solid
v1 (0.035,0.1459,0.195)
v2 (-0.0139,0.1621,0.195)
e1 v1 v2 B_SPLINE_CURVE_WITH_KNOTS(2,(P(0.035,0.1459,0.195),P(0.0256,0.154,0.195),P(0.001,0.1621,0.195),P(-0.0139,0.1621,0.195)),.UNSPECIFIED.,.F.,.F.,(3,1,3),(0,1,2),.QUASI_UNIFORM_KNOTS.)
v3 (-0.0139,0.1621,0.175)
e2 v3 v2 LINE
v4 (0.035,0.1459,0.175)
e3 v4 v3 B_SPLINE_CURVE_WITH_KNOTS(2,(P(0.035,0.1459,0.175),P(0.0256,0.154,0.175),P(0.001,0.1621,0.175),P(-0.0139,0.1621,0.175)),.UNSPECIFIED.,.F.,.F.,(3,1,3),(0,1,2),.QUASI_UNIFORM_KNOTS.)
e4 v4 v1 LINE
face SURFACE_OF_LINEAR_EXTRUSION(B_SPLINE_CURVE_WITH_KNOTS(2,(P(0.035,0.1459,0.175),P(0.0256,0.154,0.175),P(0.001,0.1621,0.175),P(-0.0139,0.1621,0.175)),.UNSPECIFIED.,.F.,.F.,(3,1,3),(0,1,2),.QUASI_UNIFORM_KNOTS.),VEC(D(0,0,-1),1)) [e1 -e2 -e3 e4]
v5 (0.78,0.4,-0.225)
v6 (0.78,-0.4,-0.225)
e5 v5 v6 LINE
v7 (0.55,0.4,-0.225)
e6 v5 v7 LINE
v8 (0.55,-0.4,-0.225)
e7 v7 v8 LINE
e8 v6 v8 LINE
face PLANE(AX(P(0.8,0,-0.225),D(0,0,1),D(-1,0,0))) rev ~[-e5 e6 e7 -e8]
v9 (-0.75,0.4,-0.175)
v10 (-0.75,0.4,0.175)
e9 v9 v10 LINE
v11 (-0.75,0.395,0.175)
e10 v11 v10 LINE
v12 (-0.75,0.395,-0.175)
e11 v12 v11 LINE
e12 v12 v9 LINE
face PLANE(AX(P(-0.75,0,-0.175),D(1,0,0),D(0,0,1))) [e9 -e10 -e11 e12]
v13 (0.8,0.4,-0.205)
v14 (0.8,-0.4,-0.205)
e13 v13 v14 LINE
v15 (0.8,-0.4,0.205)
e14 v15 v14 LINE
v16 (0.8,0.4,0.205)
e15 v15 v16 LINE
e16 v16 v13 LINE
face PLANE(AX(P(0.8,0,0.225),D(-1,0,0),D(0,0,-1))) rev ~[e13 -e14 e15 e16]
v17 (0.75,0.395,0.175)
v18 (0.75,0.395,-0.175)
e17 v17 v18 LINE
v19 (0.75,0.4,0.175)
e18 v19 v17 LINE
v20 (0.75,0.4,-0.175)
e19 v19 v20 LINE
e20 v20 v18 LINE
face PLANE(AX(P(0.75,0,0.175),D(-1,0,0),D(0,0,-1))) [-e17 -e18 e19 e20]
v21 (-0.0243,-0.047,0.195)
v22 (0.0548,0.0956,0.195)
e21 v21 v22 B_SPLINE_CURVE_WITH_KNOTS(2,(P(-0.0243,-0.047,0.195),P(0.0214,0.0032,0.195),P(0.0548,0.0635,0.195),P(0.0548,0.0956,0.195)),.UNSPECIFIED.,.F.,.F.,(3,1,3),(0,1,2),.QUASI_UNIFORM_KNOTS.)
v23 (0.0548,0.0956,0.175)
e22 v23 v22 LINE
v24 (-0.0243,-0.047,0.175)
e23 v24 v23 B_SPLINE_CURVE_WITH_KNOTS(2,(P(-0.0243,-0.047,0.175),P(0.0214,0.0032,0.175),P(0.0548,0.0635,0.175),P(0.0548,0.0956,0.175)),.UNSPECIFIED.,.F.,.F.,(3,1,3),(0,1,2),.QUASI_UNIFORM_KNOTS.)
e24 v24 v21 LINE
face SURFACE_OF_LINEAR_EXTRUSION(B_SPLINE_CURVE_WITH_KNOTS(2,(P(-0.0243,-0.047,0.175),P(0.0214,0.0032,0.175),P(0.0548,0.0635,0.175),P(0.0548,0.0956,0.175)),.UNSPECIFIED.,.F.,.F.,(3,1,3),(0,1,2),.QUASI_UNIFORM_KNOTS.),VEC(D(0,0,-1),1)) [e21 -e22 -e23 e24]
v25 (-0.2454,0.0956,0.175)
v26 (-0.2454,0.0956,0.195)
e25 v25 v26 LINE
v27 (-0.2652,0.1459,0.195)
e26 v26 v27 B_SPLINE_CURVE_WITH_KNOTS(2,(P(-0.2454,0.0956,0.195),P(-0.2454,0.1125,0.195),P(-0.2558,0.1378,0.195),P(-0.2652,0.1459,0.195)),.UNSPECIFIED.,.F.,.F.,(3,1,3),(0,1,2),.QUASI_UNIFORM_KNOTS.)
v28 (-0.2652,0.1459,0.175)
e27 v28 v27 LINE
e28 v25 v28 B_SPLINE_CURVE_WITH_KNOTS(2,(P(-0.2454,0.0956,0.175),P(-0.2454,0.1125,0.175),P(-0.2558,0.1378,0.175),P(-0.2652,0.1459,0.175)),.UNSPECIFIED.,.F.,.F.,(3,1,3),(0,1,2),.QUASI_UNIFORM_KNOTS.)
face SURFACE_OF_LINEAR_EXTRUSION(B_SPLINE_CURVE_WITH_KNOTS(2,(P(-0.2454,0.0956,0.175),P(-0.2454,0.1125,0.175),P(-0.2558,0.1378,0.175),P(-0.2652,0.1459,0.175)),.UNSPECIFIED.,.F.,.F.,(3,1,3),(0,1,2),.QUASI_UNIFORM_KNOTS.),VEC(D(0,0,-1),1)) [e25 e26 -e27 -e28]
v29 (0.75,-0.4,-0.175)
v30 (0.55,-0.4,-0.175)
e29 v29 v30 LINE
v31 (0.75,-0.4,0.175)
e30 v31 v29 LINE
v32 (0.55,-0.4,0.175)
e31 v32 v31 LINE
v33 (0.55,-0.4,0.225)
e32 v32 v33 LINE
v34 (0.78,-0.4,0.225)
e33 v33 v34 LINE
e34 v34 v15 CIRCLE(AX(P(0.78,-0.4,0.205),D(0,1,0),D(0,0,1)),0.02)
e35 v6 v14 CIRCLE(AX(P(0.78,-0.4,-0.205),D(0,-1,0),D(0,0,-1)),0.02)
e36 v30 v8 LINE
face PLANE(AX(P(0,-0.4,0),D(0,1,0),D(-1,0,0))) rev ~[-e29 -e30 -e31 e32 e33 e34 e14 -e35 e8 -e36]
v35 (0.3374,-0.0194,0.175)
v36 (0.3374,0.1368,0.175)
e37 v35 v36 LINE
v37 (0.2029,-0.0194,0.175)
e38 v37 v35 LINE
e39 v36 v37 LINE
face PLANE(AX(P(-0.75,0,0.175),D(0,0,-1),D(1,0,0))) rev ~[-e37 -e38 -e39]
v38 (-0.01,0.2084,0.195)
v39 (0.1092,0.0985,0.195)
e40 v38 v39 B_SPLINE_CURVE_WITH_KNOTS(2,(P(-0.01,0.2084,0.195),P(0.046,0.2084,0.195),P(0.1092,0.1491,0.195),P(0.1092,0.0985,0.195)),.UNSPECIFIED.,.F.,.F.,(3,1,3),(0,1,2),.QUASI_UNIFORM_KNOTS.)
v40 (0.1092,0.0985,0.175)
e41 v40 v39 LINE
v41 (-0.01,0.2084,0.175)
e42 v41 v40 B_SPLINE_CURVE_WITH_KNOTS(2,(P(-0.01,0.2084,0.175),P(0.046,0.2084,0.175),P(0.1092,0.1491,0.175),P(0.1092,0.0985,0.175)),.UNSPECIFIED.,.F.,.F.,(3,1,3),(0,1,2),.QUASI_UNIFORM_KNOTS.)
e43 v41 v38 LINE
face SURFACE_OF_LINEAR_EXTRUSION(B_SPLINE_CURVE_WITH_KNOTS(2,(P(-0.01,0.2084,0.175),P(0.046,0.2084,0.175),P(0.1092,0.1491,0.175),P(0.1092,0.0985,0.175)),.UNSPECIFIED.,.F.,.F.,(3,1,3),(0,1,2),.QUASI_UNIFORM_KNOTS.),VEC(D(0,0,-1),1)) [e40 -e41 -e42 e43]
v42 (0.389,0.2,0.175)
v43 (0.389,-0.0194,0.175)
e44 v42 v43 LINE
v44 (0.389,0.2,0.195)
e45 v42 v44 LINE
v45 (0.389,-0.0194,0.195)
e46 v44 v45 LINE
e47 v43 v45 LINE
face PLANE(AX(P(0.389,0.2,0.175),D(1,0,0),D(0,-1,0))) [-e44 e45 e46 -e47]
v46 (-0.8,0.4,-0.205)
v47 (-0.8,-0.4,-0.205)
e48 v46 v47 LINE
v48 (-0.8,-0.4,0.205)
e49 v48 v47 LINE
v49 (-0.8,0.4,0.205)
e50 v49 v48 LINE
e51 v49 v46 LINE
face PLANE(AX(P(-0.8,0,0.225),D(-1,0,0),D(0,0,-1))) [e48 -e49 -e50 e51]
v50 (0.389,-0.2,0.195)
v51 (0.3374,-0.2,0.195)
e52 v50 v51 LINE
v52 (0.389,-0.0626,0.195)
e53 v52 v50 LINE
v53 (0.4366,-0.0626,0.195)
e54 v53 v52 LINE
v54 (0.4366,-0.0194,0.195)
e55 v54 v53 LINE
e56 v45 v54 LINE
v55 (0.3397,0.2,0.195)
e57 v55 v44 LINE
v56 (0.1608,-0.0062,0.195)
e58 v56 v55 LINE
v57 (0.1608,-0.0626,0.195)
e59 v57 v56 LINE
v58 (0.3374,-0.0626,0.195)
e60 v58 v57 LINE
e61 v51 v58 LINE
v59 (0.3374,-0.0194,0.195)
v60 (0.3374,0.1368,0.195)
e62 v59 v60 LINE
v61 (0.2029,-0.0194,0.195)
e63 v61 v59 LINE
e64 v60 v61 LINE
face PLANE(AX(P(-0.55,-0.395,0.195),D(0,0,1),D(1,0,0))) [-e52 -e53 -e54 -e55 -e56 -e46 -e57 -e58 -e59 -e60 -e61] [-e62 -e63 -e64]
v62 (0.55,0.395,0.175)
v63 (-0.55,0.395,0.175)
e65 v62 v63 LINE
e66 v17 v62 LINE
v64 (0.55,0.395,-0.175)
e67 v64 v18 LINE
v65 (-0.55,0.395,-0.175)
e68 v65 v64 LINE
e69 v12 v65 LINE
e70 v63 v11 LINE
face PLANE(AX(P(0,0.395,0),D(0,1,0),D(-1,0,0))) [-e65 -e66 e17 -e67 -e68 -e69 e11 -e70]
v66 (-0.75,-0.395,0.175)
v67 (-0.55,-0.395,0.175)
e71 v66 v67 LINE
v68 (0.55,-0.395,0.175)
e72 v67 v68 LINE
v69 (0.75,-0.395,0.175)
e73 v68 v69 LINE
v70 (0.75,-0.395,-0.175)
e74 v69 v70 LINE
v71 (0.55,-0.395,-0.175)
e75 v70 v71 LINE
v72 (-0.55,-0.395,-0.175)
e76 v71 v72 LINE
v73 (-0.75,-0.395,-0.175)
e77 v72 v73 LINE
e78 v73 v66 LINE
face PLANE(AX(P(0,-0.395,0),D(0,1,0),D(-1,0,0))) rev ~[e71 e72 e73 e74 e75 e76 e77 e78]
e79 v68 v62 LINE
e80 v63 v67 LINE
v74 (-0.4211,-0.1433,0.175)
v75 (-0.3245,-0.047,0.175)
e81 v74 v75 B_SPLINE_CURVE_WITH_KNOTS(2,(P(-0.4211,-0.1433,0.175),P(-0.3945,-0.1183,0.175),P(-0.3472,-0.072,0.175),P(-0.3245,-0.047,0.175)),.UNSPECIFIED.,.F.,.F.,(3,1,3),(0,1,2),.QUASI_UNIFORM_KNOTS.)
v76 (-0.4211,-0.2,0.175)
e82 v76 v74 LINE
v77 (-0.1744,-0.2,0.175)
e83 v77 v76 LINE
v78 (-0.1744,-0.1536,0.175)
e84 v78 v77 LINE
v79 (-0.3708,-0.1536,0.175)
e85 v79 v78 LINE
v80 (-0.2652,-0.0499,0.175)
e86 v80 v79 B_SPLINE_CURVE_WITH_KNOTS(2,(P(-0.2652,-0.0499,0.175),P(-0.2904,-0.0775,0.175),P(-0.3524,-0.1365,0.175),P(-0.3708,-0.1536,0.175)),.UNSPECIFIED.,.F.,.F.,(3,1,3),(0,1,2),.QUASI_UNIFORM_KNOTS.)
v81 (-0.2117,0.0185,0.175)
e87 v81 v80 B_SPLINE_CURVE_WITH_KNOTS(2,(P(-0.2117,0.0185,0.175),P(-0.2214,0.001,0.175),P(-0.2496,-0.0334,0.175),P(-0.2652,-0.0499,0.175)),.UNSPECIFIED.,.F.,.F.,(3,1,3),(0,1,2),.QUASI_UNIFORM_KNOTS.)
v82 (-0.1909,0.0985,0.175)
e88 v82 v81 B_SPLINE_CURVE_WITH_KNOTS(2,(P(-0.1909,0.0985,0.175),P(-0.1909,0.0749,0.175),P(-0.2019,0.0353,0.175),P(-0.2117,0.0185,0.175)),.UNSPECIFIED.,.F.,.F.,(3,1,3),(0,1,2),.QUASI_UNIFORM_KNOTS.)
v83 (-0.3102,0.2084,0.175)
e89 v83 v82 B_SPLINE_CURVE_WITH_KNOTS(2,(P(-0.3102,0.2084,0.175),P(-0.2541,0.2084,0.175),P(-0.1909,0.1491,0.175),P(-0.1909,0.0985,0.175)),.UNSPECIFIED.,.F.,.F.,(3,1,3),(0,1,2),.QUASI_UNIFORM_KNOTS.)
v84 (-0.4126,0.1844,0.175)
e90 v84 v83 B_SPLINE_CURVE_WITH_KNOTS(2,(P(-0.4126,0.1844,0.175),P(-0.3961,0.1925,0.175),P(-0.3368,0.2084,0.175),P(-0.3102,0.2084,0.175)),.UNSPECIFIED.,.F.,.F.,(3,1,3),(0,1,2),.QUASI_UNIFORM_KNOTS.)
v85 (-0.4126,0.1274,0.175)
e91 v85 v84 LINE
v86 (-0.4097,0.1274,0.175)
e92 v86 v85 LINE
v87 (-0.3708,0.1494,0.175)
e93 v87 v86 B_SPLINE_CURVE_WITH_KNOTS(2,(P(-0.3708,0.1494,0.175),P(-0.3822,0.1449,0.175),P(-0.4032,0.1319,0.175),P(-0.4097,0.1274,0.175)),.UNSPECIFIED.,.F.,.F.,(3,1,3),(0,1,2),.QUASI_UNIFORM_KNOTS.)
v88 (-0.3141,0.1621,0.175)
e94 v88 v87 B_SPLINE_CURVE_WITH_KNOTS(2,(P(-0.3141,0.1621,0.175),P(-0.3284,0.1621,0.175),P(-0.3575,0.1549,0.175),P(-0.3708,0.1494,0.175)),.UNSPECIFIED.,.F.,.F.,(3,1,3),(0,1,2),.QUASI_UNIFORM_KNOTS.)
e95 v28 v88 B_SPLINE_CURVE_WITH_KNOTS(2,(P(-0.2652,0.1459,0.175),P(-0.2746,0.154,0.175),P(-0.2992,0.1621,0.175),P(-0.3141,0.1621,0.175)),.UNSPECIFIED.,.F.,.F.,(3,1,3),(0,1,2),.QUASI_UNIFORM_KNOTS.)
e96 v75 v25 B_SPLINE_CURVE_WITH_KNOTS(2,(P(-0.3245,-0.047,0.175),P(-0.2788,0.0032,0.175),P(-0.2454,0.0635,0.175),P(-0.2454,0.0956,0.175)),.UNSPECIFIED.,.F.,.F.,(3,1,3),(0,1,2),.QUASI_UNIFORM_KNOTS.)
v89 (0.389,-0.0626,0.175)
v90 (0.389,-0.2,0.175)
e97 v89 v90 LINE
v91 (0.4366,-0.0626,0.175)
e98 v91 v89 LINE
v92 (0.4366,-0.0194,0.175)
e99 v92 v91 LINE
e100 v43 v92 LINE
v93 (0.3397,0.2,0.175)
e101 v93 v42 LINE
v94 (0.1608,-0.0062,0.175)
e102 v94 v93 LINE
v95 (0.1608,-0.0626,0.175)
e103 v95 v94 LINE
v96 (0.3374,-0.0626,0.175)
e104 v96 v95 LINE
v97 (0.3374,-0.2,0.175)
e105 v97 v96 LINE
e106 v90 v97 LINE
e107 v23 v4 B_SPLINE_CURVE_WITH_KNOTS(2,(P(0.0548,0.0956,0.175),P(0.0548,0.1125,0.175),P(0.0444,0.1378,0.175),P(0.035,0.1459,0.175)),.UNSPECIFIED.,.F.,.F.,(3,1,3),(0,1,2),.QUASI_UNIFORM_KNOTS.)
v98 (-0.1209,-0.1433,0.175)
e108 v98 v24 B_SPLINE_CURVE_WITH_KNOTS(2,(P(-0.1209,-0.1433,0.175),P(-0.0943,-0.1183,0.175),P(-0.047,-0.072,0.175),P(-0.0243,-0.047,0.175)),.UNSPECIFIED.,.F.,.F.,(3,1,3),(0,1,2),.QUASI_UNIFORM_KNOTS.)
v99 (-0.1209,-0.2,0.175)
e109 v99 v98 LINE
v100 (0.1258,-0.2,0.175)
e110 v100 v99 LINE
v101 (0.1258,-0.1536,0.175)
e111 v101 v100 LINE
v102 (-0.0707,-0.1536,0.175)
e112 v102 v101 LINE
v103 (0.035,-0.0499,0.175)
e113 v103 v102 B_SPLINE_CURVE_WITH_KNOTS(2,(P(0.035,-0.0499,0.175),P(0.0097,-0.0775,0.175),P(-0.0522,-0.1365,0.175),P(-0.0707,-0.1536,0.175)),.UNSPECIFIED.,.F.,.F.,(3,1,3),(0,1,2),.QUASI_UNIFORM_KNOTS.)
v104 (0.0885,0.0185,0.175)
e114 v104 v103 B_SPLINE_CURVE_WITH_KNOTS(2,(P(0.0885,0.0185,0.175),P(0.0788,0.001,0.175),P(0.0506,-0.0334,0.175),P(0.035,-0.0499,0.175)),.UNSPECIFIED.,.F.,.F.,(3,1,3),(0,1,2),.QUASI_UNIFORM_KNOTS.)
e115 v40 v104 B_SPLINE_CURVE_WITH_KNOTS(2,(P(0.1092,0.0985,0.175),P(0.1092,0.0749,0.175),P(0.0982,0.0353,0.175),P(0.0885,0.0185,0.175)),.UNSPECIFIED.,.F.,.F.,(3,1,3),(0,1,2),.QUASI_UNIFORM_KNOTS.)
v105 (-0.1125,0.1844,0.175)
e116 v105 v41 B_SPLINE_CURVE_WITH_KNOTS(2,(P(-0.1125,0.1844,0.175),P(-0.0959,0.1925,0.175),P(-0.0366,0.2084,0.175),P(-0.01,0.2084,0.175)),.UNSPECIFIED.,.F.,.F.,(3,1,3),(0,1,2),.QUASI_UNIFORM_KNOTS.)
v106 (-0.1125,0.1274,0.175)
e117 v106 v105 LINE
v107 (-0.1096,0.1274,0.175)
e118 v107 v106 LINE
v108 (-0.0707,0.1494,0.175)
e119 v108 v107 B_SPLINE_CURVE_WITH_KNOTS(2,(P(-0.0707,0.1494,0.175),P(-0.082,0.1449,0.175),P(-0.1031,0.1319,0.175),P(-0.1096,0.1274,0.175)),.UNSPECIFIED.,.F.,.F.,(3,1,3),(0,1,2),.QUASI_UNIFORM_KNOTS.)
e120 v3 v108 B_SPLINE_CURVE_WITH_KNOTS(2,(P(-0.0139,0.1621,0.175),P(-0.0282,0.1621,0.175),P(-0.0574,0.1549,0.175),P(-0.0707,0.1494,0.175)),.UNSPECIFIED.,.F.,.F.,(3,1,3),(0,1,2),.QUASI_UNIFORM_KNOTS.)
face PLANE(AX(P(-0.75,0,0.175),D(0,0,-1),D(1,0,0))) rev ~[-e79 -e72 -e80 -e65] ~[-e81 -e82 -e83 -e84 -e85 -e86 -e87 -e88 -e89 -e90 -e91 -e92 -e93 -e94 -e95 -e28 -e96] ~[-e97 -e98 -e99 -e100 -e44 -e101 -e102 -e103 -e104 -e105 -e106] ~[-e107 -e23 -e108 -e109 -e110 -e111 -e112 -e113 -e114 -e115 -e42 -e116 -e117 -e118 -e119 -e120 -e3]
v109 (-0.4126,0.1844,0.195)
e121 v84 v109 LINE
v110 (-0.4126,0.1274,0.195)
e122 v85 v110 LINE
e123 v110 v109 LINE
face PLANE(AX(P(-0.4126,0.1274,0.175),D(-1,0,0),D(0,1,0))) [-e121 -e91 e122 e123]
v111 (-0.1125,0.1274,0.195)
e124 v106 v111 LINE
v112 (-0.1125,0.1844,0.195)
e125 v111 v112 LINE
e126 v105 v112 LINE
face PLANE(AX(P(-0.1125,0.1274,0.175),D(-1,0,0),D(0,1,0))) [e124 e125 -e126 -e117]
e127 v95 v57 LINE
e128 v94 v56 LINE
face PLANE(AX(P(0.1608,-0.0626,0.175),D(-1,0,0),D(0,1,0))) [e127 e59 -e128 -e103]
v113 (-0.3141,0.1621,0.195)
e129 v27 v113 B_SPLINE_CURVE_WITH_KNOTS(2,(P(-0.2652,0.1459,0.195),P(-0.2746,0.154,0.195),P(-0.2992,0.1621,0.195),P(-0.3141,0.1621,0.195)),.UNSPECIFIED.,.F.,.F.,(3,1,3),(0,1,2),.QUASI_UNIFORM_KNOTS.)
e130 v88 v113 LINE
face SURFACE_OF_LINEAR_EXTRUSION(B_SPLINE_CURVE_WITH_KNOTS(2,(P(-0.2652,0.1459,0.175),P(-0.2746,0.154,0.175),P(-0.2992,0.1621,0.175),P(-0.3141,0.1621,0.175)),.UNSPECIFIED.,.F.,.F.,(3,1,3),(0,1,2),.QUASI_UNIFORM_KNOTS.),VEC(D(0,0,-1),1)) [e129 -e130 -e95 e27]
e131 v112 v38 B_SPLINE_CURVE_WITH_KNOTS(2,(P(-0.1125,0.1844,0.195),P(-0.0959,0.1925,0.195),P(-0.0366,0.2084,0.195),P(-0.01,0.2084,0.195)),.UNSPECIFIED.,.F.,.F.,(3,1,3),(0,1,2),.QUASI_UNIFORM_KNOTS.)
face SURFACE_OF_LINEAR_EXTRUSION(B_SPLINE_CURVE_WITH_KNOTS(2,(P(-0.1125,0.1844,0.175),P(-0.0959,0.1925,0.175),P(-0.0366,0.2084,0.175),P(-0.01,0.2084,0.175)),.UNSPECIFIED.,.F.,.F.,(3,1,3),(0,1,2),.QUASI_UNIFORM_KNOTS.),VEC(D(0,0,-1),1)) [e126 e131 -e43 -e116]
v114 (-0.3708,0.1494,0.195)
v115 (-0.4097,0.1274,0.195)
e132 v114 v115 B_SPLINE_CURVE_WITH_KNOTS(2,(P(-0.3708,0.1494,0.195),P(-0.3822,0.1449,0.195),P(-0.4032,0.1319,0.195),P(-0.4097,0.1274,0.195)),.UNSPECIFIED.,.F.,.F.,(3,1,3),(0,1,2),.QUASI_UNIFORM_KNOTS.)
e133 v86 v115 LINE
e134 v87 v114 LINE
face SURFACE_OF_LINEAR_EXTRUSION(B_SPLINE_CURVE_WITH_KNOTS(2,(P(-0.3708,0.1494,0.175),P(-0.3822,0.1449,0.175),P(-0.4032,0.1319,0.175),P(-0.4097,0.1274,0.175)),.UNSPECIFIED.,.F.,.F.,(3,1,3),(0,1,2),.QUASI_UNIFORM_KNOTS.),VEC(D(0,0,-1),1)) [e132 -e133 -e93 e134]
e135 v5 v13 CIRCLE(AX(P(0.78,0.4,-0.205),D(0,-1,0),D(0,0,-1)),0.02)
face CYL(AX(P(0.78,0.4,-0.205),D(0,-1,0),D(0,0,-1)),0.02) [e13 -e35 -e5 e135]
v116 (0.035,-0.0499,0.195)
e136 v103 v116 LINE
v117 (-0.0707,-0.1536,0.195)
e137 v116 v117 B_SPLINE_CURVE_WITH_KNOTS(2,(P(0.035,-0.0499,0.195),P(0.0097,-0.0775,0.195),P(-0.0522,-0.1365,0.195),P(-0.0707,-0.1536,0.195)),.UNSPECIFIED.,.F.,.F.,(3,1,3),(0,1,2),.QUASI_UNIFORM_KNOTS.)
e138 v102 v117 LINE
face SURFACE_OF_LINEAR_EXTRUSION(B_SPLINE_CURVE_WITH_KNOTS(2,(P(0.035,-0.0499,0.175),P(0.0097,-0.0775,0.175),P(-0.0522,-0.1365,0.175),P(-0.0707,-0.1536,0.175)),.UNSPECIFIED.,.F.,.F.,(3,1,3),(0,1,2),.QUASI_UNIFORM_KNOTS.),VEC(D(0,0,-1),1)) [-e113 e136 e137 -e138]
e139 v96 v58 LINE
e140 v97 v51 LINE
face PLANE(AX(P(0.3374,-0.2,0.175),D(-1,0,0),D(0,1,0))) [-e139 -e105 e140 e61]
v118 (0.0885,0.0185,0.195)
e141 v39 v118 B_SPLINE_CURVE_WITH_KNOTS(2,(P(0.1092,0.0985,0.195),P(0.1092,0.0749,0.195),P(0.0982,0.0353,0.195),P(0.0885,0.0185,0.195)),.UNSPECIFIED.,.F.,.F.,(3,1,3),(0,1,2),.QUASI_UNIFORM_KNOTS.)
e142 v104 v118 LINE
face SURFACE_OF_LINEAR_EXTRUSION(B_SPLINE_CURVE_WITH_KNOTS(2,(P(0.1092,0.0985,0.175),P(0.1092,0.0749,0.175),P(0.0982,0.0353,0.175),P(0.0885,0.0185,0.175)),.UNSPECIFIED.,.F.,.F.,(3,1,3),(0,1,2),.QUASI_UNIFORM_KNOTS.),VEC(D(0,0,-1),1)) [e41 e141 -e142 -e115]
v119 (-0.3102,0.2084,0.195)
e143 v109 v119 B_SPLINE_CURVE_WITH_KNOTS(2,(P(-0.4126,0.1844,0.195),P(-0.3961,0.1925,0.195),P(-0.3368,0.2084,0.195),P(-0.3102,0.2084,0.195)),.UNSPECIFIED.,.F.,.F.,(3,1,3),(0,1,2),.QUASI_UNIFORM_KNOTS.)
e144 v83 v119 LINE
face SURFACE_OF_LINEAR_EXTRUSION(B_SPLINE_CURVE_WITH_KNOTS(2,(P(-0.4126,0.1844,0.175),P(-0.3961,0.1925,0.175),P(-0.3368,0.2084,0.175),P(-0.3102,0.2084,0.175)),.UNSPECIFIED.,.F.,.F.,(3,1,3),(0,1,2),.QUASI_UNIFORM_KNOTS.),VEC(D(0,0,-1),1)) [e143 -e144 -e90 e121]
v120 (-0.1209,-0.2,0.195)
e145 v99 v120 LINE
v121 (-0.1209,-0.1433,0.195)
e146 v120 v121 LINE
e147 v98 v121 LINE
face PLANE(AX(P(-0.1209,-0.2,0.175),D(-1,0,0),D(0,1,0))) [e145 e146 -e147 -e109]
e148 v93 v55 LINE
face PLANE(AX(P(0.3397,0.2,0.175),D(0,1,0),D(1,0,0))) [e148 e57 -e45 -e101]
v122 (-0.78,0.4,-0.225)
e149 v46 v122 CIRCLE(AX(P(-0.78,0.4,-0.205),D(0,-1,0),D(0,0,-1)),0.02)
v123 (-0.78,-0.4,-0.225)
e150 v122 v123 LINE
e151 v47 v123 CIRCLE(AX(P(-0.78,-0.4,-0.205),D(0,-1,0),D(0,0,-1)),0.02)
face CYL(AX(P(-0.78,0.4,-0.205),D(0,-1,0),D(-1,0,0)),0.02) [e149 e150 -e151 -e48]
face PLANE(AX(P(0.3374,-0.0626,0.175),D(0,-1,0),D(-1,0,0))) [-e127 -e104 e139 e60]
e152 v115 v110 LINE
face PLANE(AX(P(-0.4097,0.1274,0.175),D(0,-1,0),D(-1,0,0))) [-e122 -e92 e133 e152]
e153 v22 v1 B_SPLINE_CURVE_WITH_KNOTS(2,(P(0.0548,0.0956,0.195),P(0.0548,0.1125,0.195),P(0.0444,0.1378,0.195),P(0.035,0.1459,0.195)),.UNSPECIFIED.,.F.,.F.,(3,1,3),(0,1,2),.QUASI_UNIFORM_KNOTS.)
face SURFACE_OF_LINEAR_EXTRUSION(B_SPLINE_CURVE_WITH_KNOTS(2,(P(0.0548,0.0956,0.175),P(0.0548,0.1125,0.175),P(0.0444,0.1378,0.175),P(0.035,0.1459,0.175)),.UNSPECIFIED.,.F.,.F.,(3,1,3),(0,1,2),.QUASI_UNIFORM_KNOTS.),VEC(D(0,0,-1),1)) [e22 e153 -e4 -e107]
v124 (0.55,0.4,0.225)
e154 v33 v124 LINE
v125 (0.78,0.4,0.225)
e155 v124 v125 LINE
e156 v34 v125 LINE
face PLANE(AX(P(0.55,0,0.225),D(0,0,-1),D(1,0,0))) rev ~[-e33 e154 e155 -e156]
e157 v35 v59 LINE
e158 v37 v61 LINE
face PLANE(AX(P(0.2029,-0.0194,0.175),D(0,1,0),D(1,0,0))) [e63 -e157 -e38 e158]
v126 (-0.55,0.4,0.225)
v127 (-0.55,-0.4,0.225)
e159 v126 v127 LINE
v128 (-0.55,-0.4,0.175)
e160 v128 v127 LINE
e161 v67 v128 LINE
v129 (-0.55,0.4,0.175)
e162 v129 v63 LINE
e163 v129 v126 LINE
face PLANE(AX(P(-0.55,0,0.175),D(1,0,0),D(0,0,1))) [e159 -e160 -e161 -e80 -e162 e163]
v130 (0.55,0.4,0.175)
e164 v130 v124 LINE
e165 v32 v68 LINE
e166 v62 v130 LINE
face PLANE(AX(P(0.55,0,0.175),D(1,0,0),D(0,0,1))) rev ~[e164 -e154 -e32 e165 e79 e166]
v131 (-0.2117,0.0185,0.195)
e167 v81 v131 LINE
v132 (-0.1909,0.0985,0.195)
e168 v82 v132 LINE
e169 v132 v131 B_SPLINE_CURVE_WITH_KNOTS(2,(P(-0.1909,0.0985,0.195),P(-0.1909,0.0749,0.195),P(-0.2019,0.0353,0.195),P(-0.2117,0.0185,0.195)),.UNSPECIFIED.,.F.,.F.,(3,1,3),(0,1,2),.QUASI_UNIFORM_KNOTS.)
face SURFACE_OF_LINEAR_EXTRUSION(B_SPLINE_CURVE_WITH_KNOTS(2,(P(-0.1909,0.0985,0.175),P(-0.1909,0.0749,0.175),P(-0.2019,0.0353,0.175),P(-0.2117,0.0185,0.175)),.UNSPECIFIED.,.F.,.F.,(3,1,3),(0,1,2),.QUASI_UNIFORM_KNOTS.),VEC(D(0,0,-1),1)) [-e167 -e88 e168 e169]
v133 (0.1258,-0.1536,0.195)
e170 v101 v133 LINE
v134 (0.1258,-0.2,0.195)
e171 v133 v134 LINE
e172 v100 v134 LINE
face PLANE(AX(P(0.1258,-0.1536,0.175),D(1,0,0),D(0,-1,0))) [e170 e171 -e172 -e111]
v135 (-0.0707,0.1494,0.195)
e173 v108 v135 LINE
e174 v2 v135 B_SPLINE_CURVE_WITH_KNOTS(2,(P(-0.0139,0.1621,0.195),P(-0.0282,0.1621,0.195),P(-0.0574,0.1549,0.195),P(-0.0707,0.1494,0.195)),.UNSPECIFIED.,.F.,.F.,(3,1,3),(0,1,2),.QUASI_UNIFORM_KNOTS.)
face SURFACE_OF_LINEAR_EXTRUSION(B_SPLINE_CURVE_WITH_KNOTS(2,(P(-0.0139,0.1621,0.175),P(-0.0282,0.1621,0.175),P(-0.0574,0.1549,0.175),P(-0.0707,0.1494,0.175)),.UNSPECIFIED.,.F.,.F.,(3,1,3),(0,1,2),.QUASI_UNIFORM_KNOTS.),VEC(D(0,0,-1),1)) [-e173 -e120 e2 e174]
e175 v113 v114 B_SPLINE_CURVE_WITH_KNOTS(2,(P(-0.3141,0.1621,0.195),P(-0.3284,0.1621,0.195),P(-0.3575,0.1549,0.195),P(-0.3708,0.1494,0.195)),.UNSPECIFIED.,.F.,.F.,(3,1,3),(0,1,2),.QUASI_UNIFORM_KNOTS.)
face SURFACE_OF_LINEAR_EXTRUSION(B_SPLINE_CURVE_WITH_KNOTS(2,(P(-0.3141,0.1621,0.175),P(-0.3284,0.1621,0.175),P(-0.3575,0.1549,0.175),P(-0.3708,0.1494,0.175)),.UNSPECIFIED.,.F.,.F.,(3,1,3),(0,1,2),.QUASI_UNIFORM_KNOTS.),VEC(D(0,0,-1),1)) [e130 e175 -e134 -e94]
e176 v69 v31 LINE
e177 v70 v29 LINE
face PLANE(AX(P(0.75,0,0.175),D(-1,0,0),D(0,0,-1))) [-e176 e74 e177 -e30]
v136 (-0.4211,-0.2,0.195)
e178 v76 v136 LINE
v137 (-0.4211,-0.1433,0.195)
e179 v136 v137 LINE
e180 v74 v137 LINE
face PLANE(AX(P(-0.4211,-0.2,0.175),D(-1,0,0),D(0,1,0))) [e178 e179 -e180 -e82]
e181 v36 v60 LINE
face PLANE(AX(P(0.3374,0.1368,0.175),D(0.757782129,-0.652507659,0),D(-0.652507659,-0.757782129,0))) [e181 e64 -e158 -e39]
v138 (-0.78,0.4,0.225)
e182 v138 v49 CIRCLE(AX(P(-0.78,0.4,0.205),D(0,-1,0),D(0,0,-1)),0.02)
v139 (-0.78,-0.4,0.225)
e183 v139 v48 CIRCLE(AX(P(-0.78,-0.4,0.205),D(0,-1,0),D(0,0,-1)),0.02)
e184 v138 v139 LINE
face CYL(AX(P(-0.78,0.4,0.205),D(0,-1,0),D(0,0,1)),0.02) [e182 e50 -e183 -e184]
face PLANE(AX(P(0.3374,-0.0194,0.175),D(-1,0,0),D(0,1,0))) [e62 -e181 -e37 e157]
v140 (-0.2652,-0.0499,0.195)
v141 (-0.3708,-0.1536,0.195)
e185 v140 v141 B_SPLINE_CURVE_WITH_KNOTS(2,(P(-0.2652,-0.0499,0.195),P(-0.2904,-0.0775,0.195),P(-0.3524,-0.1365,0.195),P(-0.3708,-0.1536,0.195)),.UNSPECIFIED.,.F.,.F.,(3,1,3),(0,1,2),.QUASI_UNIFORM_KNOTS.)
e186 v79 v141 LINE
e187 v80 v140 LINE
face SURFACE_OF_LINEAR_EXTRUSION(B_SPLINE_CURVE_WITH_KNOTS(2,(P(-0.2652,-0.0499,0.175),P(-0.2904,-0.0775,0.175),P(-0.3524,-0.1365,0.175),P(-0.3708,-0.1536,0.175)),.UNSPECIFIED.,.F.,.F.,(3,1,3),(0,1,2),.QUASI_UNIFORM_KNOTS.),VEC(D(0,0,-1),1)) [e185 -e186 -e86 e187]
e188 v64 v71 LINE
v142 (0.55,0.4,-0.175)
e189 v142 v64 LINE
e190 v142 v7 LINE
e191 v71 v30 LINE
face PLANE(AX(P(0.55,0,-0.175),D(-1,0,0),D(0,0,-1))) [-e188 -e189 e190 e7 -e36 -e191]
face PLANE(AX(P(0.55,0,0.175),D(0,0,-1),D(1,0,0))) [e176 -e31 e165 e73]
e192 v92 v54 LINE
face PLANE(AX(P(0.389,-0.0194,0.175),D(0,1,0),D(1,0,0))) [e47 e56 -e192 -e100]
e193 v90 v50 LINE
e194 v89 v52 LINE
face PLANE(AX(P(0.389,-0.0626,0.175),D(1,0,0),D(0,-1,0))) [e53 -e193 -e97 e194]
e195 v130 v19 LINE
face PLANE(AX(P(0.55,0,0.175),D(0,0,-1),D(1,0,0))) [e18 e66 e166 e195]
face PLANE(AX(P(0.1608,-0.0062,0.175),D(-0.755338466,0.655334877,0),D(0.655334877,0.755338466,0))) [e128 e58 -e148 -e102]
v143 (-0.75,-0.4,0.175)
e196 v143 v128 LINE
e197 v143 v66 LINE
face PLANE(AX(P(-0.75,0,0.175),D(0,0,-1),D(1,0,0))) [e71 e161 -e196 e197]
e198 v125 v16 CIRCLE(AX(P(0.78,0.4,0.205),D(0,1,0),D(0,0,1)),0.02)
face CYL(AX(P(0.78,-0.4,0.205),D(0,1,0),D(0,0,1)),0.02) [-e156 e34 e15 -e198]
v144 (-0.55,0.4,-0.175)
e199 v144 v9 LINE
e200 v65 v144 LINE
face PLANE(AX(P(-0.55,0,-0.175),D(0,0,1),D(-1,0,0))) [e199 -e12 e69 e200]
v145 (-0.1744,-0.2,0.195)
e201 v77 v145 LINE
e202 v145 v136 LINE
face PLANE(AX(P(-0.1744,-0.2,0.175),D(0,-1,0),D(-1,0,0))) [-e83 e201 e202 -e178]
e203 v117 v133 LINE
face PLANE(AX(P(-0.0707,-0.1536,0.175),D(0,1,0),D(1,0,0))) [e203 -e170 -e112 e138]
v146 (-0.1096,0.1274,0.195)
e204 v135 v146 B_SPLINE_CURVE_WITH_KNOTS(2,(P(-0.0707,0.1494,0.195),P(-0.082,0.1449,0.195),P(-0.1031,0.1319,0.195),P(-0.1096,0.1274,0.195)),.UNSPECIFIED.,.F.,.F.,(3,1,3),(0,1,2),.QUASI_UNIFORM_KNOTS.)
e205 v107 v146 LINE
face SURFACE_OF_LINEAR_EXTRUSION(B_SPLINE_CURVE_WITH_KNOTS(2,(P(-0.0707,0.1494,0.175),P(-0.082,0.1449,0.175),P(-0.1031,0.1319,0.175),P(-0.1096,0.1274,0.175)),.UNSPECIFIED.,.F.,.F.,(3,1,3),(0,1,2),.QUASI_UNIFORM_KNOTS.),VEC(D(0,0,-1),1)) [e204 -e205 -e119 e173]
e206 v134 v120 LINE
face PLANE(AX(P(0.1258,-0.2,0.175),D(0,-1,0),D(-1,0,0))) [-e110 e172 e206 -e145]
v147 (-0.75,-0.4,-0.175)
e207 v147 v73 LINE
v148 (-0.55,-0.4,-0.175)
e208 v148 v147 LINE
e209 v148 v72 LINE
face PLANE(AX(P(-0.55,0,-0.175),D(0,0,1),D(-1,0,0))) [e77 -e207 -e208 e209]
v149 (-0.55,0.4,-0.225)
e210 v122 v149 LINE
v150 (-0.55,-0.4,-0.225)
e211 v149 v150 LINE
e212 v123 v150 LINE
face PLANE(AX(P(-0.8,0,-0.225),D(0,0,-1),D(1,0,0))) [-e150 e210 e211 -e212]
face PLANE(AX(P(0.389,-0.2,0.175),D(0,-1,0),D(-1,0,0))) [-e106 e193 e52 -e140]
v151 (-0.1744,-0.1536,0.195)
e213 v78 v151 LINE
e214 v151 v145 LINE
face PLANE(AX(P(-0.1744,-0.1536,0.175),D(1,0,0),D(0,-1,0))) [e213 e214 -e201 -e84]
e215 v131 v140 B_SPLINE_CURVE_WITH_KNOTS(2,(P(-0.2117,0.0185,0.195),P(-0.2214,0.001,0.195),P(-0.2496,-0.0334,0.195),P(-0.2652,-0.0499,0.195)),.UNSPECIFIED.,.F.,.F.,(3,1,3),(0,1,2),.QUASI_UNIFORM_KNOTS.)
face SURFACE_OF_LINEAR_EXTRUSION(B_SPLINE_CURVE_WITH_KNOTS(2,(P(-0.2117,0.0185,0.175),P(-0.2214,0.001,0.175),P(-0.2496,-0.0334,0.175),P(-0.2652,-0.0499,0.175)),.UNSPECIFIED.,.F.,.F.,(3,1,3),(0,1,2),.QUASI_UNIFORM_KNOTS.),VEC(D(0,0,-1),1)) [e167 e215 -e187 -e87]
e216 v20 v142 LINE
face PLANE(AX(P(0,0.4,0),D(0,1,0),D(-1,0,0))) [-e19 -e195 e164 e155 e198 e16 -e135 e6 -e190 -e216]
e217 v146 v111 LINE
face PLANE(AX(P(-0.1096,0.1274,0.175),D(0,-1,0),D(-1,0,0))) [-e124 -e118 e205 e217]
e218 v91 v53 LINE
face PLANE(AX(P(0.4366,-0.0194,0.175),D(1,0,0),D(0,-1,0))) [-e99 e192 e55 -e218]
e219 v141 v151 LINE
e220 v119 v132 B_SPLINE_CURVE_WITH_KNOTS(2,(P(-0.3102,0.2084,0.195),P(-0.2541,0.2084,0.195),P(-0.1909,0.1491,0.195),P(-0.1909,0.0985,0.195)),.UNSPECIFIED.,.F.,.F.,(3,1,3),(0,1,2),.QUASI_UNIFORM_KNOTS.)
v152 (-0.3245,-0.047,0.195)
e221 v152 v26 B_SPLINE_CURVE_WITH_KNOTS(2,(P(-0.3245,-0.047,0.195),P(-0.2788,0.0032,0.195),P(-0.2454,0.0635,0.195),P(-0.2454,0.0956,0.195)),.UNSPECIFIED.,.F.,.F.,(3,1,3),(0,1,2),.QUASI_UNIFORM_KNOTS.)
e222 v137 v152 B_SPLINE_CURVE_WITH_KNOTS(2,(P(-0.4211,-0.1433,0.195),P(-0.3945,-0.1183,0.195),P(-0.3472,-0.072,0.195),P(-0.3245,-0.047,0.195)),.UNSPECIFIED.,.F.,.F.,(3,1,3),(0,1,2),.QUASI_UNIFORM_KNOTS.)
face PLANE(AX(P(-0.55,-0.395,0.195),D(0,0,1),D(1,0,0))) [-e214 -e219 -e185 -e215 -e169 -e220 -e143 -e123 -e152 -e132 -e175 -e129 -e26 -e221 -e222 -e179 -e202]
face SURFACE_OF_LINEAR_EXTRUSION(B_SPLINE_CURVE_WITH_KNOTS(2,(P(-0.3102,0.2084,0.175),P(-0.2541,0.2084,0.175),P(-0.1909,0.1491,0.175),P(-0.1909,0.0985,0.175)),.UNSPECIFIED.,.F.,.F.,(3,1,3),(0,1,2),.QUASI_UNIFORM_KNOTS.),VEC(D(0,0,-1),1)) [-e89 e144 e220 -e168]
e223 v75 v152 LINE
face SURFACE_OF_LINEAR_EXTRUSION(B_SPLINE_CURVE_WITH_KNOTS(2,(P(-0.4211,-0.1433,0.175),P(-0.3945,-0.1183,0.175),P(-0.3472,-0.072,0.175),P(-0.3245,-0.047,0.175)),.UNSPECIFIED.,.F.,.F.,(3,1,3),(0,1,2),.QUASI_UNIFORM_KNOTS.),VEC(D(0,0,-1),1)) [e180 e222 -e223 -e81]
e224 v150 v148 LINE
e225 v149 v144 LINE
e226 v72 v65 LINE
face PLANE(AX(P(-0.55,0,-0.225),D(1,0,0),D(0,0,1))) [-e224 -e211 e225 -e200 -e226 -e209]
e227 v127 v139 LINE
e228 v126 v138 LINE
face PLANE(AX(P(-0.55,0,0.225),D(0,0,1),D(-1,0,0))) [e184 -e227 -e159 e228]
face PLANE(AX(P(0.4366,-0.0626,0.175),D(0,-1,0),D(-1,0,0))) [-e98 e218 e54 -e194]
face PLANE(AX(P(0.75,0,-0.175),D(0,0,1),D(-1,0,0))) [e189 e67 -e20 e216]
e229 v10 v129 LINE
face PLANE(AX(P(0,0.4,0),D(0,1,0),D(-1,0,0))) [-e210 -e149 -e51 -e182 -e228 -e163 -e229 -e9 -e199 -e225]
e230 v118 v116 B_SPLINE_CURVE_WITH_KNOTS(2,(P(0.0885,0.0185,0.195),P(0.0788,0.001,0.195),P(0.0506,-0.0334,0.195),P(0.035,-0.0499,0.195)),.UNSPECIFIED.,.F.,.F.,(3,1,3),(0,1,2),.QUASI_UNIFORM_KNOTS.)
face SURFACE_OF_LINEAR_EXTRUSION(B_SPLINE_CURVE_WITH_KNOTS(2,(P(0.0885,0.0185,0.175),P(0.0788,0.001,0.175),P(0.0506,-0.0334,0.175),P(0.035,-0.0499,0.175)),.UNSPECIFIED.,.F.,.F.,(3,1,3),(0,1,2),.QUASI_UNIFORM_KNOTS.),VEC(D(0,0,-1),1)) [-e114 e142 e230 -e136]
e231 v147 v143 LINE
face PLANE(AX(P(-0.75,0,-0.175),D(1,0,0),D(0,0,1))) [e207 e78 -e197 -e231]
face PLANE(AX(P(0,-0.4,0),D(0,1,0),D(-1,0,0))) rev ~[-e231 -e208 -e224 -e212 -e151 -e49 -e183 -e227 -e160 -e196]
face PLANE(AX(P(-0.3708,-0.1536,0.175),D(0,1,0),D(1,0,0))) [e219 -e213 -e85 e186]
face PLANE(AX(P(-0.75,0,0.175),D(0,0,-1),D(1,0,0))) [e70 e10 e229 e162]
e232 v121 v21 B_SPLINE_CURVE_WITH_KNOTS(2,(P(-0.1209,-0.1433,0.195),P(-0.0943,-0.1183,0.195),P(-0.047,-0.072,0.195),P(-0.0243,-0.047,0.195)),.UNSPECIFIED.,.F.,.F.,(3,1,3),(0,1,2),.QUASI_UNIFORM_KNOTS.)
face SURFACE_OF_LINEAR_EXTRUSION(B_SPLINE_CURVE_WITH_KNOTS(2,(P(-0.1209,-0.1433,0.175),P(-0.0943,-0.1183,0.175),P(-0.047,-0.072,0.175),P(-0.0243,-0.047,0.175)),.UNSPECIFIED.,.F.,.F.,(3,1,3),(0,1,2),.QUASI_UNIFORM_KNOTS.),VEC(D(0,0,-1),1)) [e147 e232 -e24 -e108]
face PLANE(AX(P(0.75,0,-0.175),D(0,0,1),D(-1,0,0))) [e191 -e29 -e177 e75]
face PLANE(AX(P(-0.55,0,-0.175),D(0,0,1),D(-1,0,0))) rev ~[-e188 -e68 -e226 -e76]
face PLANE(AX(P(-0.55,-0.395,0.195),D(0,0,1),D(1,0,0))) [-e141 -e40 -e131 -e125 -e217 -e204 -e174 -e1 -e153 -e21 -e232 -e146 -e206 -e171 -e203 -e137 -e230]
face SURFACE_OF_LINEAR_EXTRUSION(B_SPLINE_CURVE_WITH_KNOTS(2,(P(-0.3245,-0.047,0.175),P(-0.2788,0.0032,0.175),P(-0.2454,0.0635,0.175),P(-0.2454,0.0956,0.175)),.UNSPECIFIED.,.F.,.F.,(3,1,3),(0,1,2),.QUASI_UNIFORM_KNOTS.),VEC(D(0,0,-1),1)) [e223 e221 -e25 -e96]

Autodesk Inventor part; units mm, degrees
ref_plane "YZ Plane" through (0, 0, 0) normal (1, 0, 0) x (0, 1, 0)
ref_plane "XZ Plane" through (0, 0, 0) normal (0, 1, 0) x (-1, 0, 0)
ref_plane "XY Plane" through (0, 0, 0) normal (0, 0, 1) x (1, 0, 0)
sketch "Sketch1" plane through (0, 0, 0) normal (0, 1, 0) x (-1, 0, 0)
  line L0 (0.75, 0.175) -> (-0.75, 0.175)
  line L1 (-0.75, 0.175) -> (-0.75, -0.175)
  line L2 (-0.75, -0.175) -> (0.75, -0.175)
  line L3 (0.75, -0.175) -> (0.75, 0.175)
  line L4 (0.55, 0.175) -> (0.55, 0.225)
  line L5 (0.55, 0.225) -> (0.8, 0.225)
  line L6 (0.8, 0.225) -> (0.8, -0.225)
  line L7 (0.8, -0.225) -> (0.55, -0.225)
  line L8 (0.55, -0.225) -> (0.55, -0.175)
  line L9 (-0.55, 0.175) -> (-0.55, 0.225)
  line L10 (-0.55, 0.225) -> (-0.8, 0.225)
  line L11 (-0.8, 0.225) -> (-0.8, -0.225)
  line L12 (-0.8, -0.225) -> (-0.55, -0.225)
  line L13 (-0.55, -0.175) -> (-0.55, -0.225)
  line L14 (0.55, 0.175) -> (-0.55, 0.175)
  point P0 (0, 0)
  point P1 (0, 0.175)
  point P2 (0.75, 0)
  dimension "d0" = 1.6
  dimension "d1" = 0.05
  dimension "d2" = 0.05
  dimension "d3" = 0.45
  dimension "d4" = 0.25
extrude "Extrusion1" add sketch "Sketch1" along normal mid plane 0.8 contours L0 L4 L5 L6 L7 L8 L2 L3 | L0 L1 L2 L13 L12 L11 L10 L9
extrude "Extrusion2" add sketch "Sketch1" along normal mid plane 0.79 contours L3 L2 L1 L0
sketch "Sketch2" plane through (-0.55, -0.395, 0.175) normal (0, 0, 1) x (1, 0, 0)
  line L0 (0, 0) -> (0, 0.79) projected
  line L1 (1.1, 0) -> (0, 0) projected
  line L2 (1.1, 0) -> (1.1, 0.79) projected
  line L3 (0, 0.79) -> (1.1, 0.79) projected
  line L4 (0, 0.395) -> (1.1, 0.395) construction
  line L5 (0.3756, 0.195) -> (0.1289, 0.195)
  line L6 (0.1289, 0.195) -> (0.1289, 0.2517)
  spline S0 degree 2 poles (0.1289, 0.2517) (0.1555, 0.2767) (0.2028, 0.323) (0.2255, 0.348) knots 0 0 0 1 2 2 2
  spline S1 degree 2 poles (0.2255, 0.348) (0.2712, 0.3982) (0.3046, 0.4585) (0.3046, 0.4906) knots 0 0 0 1 2 2 2
  spline S2 degree 2 poles (0.3046, 0.4906) (0.3046, 0.5075) (0.2942, 0.5328) (0.2848, 0.5409) knots 0 0 0 1 2 2 2
  spline S3 degree 2 poles (0.2848, 0.5409) (0.2754, 0.549) (0.2508, 0.5571) (0.2359, 0.5571) knots 0 0 0 1 2 2 2
  spline S4 degree 2 poles (0.2359, 0.5571) (0.2216, 0.5571) (0.1925, 0.5499) (0.1792, 0.5444) knots 0 0 0 1 2 2 2
  spline S5 degree 2 poles (0.1792, 0.5444) (0.1678, 0.5399) (0.1468, 0.5269) (0.1403, 0.5224) knots 0 0 0 1 2 2 2
  line L7 (0.1403, 0.5224) -> (0.1374, 0.5224)
  line L8 (0.1374, 0.5224) -> (0.1374, 0.5794)
  spline S6 degree 2 poles (0.1374, 0.5794) (0.1539, 0.5875) (0.2132, 0.6034) (0.2398, 0.6034) knots 0 0 0 1 2 2 2
  spline S7 degree 2 poles (0.2398, 0.6034) (0.2959, 0.6034) (0.3591, 0.5441) (0.3591, 0.4935) knots 0 0 0 1 2 2 2
  spline S8 degree 2 poles (0.3591, 0.4935) (0.3591, 0.4699) (0.3481, 0.4303) (0.3383, 0.4135) knots 0 0 0 1 2 2 2
  spline S9 degree 2 poles (0.3383, 0.4135) (0.3286, 0.396) (0.3004, 0.3616) (0.2848, 0.3451) knots 0 0 0 1 2 2 2
  spline S10 degree 2 poles (0.2848, 0.3451) (0.2596, 0.3175) (0.1976, 0.2585) (0.1792, 0.2414) knots 0 0 0 1 2 2 2
  line L9 (0.1792, 0.2414) -> (0.3756, 0.2414)
  line L10 (0.3756, 0.2414) -> (0.3756, 0.195)
  line L11 (0.6758, 0.195) -> (0.4291, 0.195)
  line L12 (0.4291, 0.195) -> (0.4291, 0.2517)
  spline S11 degree 2 poles (0.4291, 0.2517) (0.4557, 0.2767) (0.503, 0.323) (0.5257, 0.348) knots 0 0 0 1 2 2 2
  spline S12 degree 2 poles (0.5257, 0.348) (0.5714, 0.3982) (0.6048, 0.4585) (0.6048, 0.4906) knots 0 0 0 1 2 2 2
  spline S13 degree 2 poles (0.6048, 0.4906) (0.6048, 0.5075) (0.5944, 0.5328) (0.585, 0.5409) knots 0 0 0 1 2 2 2
  spline S14 degree 2 poles (0.585, 0.5409) (0.5756, 0.549) (0.551, 0.5571) (0.5361, 0.5571) knots 0 0 0 1 2 2 2
  spline S15 degree 2 poles (0.5361, 0.5571) (0.5218, 0.5571) (0.4926, 0.5499) (0.4793, 0.5444) knots 0 0 0 1 2 2 2
  spline S16 degree 2 poles (0.4793, 0.5444) (0.468, 0.5399) (0.4469, 0.5269) (0.4404, 0.5224) knots 0 0 0 1 2 2 2
  line L13 (0.4404, 0.5224) -> (0.4375, 0.5224)
  line L14 (0.4375, 0.5224) -> (0.4375, 0.5794)
  spline S17 degree 2 poles (0.4375, 0.5794) (0.4541, 0.5875) (0.5134, 0.6034) (0.54, 0.6034) knots 0 0 0 1 2 2 2
  spline S18 degree 2 poles (0.54, 0.6034) (0.596, 0.6034) (0.6592, 0.5441) (0.6592, 0.4935) knots 0 0 0 1 2 2 2
  spline S19 degree 2 poles (0.6592, 0.4935) (0.6592, 0.4699) (0.6482, 0.4303) (0.6385, 0.4135) knots 0 0 0 1 2 2 2
  spline S20 degree 2 poles (0.6385, 0.4135) (0.6288, 0.396) (0.6006, 0.3616) (0.585, 0.3451) knots 0 0 0 1 2 2 2
  spline S21 degree 2 poles (0.585, 0.3451) (0.5597, 0.3175) (0.4978, 0.2585) (0.4793, 0.2414) knots 0 0 0 1 2 2 2
  line L15 (0.4793, 0.2414) -> (0.6758, 0.2414)
  line L16 (0.6758, 0.2414) -> (0.6758, 0.195)
  line L17 (0.9866, 0.3324) -> (0.939, 0.3324)
  line L18 (0.939, 0.3324) -> (0.939, 0.195)
  line L19 (0.939, 0.195) -> (0.8874, 0.195)
  line L20 (0.8874, 0.195) -> (0.8874, 0.3324)
  line L21 (0.8874, 0.3324) -> (0.7108, 0.3324)
  line L22 (0.7108, 0.3324) -> (0.7108, 0.3888)
  line L23 (0.7108, 0.3888) -> (0.8897, 0.595)
  line L24 (0.8897, 0.595) -> (0.939, 0.595)
  line L25 (0.939, 0.595) -> (0.939, 0.3756)
  line L26 (0.939, 0.3756) -> (0.9866, 0.3756)
  line L27 (0.9866, 0.3756) -> (0.9866, 0.3324)
  line L28 (0.8874, 0.3756) -> (0.8874, 0.5318)
  line L29 (0.8874, 0.5318) -> (0.7529, 0.3756)
  line L30 (0.7529, 0.3756) -> (0.8874, 0.3756)
  point P0 (0.55, 0.395)
extrude "Extrusion3" add sketch "Sketch2" along normal blind 0.02 contours L5 L6 S0 S1 S2 S3 S4 S5 L7 L8 S6 S7 S8 S9 S10 L9 L10 | L11 L12 S11 S12 S13 S14 S15 S16 L13 L14 S17 S18 S19 S20 S21 L15 L16 | L17 L18 L19 L20 L21 L22 L23 L24 L25 L26 L27
fillet "Fillet1" radius 0.02 4 edges at (-0.8, 0, 0.225) (-0.8, 0, -0.225) (0.8, 0, 0.225) (0.8, 0, -0.225)
equation "\"d2\" = d1"
properties part number "21-1001" material "Copper"
